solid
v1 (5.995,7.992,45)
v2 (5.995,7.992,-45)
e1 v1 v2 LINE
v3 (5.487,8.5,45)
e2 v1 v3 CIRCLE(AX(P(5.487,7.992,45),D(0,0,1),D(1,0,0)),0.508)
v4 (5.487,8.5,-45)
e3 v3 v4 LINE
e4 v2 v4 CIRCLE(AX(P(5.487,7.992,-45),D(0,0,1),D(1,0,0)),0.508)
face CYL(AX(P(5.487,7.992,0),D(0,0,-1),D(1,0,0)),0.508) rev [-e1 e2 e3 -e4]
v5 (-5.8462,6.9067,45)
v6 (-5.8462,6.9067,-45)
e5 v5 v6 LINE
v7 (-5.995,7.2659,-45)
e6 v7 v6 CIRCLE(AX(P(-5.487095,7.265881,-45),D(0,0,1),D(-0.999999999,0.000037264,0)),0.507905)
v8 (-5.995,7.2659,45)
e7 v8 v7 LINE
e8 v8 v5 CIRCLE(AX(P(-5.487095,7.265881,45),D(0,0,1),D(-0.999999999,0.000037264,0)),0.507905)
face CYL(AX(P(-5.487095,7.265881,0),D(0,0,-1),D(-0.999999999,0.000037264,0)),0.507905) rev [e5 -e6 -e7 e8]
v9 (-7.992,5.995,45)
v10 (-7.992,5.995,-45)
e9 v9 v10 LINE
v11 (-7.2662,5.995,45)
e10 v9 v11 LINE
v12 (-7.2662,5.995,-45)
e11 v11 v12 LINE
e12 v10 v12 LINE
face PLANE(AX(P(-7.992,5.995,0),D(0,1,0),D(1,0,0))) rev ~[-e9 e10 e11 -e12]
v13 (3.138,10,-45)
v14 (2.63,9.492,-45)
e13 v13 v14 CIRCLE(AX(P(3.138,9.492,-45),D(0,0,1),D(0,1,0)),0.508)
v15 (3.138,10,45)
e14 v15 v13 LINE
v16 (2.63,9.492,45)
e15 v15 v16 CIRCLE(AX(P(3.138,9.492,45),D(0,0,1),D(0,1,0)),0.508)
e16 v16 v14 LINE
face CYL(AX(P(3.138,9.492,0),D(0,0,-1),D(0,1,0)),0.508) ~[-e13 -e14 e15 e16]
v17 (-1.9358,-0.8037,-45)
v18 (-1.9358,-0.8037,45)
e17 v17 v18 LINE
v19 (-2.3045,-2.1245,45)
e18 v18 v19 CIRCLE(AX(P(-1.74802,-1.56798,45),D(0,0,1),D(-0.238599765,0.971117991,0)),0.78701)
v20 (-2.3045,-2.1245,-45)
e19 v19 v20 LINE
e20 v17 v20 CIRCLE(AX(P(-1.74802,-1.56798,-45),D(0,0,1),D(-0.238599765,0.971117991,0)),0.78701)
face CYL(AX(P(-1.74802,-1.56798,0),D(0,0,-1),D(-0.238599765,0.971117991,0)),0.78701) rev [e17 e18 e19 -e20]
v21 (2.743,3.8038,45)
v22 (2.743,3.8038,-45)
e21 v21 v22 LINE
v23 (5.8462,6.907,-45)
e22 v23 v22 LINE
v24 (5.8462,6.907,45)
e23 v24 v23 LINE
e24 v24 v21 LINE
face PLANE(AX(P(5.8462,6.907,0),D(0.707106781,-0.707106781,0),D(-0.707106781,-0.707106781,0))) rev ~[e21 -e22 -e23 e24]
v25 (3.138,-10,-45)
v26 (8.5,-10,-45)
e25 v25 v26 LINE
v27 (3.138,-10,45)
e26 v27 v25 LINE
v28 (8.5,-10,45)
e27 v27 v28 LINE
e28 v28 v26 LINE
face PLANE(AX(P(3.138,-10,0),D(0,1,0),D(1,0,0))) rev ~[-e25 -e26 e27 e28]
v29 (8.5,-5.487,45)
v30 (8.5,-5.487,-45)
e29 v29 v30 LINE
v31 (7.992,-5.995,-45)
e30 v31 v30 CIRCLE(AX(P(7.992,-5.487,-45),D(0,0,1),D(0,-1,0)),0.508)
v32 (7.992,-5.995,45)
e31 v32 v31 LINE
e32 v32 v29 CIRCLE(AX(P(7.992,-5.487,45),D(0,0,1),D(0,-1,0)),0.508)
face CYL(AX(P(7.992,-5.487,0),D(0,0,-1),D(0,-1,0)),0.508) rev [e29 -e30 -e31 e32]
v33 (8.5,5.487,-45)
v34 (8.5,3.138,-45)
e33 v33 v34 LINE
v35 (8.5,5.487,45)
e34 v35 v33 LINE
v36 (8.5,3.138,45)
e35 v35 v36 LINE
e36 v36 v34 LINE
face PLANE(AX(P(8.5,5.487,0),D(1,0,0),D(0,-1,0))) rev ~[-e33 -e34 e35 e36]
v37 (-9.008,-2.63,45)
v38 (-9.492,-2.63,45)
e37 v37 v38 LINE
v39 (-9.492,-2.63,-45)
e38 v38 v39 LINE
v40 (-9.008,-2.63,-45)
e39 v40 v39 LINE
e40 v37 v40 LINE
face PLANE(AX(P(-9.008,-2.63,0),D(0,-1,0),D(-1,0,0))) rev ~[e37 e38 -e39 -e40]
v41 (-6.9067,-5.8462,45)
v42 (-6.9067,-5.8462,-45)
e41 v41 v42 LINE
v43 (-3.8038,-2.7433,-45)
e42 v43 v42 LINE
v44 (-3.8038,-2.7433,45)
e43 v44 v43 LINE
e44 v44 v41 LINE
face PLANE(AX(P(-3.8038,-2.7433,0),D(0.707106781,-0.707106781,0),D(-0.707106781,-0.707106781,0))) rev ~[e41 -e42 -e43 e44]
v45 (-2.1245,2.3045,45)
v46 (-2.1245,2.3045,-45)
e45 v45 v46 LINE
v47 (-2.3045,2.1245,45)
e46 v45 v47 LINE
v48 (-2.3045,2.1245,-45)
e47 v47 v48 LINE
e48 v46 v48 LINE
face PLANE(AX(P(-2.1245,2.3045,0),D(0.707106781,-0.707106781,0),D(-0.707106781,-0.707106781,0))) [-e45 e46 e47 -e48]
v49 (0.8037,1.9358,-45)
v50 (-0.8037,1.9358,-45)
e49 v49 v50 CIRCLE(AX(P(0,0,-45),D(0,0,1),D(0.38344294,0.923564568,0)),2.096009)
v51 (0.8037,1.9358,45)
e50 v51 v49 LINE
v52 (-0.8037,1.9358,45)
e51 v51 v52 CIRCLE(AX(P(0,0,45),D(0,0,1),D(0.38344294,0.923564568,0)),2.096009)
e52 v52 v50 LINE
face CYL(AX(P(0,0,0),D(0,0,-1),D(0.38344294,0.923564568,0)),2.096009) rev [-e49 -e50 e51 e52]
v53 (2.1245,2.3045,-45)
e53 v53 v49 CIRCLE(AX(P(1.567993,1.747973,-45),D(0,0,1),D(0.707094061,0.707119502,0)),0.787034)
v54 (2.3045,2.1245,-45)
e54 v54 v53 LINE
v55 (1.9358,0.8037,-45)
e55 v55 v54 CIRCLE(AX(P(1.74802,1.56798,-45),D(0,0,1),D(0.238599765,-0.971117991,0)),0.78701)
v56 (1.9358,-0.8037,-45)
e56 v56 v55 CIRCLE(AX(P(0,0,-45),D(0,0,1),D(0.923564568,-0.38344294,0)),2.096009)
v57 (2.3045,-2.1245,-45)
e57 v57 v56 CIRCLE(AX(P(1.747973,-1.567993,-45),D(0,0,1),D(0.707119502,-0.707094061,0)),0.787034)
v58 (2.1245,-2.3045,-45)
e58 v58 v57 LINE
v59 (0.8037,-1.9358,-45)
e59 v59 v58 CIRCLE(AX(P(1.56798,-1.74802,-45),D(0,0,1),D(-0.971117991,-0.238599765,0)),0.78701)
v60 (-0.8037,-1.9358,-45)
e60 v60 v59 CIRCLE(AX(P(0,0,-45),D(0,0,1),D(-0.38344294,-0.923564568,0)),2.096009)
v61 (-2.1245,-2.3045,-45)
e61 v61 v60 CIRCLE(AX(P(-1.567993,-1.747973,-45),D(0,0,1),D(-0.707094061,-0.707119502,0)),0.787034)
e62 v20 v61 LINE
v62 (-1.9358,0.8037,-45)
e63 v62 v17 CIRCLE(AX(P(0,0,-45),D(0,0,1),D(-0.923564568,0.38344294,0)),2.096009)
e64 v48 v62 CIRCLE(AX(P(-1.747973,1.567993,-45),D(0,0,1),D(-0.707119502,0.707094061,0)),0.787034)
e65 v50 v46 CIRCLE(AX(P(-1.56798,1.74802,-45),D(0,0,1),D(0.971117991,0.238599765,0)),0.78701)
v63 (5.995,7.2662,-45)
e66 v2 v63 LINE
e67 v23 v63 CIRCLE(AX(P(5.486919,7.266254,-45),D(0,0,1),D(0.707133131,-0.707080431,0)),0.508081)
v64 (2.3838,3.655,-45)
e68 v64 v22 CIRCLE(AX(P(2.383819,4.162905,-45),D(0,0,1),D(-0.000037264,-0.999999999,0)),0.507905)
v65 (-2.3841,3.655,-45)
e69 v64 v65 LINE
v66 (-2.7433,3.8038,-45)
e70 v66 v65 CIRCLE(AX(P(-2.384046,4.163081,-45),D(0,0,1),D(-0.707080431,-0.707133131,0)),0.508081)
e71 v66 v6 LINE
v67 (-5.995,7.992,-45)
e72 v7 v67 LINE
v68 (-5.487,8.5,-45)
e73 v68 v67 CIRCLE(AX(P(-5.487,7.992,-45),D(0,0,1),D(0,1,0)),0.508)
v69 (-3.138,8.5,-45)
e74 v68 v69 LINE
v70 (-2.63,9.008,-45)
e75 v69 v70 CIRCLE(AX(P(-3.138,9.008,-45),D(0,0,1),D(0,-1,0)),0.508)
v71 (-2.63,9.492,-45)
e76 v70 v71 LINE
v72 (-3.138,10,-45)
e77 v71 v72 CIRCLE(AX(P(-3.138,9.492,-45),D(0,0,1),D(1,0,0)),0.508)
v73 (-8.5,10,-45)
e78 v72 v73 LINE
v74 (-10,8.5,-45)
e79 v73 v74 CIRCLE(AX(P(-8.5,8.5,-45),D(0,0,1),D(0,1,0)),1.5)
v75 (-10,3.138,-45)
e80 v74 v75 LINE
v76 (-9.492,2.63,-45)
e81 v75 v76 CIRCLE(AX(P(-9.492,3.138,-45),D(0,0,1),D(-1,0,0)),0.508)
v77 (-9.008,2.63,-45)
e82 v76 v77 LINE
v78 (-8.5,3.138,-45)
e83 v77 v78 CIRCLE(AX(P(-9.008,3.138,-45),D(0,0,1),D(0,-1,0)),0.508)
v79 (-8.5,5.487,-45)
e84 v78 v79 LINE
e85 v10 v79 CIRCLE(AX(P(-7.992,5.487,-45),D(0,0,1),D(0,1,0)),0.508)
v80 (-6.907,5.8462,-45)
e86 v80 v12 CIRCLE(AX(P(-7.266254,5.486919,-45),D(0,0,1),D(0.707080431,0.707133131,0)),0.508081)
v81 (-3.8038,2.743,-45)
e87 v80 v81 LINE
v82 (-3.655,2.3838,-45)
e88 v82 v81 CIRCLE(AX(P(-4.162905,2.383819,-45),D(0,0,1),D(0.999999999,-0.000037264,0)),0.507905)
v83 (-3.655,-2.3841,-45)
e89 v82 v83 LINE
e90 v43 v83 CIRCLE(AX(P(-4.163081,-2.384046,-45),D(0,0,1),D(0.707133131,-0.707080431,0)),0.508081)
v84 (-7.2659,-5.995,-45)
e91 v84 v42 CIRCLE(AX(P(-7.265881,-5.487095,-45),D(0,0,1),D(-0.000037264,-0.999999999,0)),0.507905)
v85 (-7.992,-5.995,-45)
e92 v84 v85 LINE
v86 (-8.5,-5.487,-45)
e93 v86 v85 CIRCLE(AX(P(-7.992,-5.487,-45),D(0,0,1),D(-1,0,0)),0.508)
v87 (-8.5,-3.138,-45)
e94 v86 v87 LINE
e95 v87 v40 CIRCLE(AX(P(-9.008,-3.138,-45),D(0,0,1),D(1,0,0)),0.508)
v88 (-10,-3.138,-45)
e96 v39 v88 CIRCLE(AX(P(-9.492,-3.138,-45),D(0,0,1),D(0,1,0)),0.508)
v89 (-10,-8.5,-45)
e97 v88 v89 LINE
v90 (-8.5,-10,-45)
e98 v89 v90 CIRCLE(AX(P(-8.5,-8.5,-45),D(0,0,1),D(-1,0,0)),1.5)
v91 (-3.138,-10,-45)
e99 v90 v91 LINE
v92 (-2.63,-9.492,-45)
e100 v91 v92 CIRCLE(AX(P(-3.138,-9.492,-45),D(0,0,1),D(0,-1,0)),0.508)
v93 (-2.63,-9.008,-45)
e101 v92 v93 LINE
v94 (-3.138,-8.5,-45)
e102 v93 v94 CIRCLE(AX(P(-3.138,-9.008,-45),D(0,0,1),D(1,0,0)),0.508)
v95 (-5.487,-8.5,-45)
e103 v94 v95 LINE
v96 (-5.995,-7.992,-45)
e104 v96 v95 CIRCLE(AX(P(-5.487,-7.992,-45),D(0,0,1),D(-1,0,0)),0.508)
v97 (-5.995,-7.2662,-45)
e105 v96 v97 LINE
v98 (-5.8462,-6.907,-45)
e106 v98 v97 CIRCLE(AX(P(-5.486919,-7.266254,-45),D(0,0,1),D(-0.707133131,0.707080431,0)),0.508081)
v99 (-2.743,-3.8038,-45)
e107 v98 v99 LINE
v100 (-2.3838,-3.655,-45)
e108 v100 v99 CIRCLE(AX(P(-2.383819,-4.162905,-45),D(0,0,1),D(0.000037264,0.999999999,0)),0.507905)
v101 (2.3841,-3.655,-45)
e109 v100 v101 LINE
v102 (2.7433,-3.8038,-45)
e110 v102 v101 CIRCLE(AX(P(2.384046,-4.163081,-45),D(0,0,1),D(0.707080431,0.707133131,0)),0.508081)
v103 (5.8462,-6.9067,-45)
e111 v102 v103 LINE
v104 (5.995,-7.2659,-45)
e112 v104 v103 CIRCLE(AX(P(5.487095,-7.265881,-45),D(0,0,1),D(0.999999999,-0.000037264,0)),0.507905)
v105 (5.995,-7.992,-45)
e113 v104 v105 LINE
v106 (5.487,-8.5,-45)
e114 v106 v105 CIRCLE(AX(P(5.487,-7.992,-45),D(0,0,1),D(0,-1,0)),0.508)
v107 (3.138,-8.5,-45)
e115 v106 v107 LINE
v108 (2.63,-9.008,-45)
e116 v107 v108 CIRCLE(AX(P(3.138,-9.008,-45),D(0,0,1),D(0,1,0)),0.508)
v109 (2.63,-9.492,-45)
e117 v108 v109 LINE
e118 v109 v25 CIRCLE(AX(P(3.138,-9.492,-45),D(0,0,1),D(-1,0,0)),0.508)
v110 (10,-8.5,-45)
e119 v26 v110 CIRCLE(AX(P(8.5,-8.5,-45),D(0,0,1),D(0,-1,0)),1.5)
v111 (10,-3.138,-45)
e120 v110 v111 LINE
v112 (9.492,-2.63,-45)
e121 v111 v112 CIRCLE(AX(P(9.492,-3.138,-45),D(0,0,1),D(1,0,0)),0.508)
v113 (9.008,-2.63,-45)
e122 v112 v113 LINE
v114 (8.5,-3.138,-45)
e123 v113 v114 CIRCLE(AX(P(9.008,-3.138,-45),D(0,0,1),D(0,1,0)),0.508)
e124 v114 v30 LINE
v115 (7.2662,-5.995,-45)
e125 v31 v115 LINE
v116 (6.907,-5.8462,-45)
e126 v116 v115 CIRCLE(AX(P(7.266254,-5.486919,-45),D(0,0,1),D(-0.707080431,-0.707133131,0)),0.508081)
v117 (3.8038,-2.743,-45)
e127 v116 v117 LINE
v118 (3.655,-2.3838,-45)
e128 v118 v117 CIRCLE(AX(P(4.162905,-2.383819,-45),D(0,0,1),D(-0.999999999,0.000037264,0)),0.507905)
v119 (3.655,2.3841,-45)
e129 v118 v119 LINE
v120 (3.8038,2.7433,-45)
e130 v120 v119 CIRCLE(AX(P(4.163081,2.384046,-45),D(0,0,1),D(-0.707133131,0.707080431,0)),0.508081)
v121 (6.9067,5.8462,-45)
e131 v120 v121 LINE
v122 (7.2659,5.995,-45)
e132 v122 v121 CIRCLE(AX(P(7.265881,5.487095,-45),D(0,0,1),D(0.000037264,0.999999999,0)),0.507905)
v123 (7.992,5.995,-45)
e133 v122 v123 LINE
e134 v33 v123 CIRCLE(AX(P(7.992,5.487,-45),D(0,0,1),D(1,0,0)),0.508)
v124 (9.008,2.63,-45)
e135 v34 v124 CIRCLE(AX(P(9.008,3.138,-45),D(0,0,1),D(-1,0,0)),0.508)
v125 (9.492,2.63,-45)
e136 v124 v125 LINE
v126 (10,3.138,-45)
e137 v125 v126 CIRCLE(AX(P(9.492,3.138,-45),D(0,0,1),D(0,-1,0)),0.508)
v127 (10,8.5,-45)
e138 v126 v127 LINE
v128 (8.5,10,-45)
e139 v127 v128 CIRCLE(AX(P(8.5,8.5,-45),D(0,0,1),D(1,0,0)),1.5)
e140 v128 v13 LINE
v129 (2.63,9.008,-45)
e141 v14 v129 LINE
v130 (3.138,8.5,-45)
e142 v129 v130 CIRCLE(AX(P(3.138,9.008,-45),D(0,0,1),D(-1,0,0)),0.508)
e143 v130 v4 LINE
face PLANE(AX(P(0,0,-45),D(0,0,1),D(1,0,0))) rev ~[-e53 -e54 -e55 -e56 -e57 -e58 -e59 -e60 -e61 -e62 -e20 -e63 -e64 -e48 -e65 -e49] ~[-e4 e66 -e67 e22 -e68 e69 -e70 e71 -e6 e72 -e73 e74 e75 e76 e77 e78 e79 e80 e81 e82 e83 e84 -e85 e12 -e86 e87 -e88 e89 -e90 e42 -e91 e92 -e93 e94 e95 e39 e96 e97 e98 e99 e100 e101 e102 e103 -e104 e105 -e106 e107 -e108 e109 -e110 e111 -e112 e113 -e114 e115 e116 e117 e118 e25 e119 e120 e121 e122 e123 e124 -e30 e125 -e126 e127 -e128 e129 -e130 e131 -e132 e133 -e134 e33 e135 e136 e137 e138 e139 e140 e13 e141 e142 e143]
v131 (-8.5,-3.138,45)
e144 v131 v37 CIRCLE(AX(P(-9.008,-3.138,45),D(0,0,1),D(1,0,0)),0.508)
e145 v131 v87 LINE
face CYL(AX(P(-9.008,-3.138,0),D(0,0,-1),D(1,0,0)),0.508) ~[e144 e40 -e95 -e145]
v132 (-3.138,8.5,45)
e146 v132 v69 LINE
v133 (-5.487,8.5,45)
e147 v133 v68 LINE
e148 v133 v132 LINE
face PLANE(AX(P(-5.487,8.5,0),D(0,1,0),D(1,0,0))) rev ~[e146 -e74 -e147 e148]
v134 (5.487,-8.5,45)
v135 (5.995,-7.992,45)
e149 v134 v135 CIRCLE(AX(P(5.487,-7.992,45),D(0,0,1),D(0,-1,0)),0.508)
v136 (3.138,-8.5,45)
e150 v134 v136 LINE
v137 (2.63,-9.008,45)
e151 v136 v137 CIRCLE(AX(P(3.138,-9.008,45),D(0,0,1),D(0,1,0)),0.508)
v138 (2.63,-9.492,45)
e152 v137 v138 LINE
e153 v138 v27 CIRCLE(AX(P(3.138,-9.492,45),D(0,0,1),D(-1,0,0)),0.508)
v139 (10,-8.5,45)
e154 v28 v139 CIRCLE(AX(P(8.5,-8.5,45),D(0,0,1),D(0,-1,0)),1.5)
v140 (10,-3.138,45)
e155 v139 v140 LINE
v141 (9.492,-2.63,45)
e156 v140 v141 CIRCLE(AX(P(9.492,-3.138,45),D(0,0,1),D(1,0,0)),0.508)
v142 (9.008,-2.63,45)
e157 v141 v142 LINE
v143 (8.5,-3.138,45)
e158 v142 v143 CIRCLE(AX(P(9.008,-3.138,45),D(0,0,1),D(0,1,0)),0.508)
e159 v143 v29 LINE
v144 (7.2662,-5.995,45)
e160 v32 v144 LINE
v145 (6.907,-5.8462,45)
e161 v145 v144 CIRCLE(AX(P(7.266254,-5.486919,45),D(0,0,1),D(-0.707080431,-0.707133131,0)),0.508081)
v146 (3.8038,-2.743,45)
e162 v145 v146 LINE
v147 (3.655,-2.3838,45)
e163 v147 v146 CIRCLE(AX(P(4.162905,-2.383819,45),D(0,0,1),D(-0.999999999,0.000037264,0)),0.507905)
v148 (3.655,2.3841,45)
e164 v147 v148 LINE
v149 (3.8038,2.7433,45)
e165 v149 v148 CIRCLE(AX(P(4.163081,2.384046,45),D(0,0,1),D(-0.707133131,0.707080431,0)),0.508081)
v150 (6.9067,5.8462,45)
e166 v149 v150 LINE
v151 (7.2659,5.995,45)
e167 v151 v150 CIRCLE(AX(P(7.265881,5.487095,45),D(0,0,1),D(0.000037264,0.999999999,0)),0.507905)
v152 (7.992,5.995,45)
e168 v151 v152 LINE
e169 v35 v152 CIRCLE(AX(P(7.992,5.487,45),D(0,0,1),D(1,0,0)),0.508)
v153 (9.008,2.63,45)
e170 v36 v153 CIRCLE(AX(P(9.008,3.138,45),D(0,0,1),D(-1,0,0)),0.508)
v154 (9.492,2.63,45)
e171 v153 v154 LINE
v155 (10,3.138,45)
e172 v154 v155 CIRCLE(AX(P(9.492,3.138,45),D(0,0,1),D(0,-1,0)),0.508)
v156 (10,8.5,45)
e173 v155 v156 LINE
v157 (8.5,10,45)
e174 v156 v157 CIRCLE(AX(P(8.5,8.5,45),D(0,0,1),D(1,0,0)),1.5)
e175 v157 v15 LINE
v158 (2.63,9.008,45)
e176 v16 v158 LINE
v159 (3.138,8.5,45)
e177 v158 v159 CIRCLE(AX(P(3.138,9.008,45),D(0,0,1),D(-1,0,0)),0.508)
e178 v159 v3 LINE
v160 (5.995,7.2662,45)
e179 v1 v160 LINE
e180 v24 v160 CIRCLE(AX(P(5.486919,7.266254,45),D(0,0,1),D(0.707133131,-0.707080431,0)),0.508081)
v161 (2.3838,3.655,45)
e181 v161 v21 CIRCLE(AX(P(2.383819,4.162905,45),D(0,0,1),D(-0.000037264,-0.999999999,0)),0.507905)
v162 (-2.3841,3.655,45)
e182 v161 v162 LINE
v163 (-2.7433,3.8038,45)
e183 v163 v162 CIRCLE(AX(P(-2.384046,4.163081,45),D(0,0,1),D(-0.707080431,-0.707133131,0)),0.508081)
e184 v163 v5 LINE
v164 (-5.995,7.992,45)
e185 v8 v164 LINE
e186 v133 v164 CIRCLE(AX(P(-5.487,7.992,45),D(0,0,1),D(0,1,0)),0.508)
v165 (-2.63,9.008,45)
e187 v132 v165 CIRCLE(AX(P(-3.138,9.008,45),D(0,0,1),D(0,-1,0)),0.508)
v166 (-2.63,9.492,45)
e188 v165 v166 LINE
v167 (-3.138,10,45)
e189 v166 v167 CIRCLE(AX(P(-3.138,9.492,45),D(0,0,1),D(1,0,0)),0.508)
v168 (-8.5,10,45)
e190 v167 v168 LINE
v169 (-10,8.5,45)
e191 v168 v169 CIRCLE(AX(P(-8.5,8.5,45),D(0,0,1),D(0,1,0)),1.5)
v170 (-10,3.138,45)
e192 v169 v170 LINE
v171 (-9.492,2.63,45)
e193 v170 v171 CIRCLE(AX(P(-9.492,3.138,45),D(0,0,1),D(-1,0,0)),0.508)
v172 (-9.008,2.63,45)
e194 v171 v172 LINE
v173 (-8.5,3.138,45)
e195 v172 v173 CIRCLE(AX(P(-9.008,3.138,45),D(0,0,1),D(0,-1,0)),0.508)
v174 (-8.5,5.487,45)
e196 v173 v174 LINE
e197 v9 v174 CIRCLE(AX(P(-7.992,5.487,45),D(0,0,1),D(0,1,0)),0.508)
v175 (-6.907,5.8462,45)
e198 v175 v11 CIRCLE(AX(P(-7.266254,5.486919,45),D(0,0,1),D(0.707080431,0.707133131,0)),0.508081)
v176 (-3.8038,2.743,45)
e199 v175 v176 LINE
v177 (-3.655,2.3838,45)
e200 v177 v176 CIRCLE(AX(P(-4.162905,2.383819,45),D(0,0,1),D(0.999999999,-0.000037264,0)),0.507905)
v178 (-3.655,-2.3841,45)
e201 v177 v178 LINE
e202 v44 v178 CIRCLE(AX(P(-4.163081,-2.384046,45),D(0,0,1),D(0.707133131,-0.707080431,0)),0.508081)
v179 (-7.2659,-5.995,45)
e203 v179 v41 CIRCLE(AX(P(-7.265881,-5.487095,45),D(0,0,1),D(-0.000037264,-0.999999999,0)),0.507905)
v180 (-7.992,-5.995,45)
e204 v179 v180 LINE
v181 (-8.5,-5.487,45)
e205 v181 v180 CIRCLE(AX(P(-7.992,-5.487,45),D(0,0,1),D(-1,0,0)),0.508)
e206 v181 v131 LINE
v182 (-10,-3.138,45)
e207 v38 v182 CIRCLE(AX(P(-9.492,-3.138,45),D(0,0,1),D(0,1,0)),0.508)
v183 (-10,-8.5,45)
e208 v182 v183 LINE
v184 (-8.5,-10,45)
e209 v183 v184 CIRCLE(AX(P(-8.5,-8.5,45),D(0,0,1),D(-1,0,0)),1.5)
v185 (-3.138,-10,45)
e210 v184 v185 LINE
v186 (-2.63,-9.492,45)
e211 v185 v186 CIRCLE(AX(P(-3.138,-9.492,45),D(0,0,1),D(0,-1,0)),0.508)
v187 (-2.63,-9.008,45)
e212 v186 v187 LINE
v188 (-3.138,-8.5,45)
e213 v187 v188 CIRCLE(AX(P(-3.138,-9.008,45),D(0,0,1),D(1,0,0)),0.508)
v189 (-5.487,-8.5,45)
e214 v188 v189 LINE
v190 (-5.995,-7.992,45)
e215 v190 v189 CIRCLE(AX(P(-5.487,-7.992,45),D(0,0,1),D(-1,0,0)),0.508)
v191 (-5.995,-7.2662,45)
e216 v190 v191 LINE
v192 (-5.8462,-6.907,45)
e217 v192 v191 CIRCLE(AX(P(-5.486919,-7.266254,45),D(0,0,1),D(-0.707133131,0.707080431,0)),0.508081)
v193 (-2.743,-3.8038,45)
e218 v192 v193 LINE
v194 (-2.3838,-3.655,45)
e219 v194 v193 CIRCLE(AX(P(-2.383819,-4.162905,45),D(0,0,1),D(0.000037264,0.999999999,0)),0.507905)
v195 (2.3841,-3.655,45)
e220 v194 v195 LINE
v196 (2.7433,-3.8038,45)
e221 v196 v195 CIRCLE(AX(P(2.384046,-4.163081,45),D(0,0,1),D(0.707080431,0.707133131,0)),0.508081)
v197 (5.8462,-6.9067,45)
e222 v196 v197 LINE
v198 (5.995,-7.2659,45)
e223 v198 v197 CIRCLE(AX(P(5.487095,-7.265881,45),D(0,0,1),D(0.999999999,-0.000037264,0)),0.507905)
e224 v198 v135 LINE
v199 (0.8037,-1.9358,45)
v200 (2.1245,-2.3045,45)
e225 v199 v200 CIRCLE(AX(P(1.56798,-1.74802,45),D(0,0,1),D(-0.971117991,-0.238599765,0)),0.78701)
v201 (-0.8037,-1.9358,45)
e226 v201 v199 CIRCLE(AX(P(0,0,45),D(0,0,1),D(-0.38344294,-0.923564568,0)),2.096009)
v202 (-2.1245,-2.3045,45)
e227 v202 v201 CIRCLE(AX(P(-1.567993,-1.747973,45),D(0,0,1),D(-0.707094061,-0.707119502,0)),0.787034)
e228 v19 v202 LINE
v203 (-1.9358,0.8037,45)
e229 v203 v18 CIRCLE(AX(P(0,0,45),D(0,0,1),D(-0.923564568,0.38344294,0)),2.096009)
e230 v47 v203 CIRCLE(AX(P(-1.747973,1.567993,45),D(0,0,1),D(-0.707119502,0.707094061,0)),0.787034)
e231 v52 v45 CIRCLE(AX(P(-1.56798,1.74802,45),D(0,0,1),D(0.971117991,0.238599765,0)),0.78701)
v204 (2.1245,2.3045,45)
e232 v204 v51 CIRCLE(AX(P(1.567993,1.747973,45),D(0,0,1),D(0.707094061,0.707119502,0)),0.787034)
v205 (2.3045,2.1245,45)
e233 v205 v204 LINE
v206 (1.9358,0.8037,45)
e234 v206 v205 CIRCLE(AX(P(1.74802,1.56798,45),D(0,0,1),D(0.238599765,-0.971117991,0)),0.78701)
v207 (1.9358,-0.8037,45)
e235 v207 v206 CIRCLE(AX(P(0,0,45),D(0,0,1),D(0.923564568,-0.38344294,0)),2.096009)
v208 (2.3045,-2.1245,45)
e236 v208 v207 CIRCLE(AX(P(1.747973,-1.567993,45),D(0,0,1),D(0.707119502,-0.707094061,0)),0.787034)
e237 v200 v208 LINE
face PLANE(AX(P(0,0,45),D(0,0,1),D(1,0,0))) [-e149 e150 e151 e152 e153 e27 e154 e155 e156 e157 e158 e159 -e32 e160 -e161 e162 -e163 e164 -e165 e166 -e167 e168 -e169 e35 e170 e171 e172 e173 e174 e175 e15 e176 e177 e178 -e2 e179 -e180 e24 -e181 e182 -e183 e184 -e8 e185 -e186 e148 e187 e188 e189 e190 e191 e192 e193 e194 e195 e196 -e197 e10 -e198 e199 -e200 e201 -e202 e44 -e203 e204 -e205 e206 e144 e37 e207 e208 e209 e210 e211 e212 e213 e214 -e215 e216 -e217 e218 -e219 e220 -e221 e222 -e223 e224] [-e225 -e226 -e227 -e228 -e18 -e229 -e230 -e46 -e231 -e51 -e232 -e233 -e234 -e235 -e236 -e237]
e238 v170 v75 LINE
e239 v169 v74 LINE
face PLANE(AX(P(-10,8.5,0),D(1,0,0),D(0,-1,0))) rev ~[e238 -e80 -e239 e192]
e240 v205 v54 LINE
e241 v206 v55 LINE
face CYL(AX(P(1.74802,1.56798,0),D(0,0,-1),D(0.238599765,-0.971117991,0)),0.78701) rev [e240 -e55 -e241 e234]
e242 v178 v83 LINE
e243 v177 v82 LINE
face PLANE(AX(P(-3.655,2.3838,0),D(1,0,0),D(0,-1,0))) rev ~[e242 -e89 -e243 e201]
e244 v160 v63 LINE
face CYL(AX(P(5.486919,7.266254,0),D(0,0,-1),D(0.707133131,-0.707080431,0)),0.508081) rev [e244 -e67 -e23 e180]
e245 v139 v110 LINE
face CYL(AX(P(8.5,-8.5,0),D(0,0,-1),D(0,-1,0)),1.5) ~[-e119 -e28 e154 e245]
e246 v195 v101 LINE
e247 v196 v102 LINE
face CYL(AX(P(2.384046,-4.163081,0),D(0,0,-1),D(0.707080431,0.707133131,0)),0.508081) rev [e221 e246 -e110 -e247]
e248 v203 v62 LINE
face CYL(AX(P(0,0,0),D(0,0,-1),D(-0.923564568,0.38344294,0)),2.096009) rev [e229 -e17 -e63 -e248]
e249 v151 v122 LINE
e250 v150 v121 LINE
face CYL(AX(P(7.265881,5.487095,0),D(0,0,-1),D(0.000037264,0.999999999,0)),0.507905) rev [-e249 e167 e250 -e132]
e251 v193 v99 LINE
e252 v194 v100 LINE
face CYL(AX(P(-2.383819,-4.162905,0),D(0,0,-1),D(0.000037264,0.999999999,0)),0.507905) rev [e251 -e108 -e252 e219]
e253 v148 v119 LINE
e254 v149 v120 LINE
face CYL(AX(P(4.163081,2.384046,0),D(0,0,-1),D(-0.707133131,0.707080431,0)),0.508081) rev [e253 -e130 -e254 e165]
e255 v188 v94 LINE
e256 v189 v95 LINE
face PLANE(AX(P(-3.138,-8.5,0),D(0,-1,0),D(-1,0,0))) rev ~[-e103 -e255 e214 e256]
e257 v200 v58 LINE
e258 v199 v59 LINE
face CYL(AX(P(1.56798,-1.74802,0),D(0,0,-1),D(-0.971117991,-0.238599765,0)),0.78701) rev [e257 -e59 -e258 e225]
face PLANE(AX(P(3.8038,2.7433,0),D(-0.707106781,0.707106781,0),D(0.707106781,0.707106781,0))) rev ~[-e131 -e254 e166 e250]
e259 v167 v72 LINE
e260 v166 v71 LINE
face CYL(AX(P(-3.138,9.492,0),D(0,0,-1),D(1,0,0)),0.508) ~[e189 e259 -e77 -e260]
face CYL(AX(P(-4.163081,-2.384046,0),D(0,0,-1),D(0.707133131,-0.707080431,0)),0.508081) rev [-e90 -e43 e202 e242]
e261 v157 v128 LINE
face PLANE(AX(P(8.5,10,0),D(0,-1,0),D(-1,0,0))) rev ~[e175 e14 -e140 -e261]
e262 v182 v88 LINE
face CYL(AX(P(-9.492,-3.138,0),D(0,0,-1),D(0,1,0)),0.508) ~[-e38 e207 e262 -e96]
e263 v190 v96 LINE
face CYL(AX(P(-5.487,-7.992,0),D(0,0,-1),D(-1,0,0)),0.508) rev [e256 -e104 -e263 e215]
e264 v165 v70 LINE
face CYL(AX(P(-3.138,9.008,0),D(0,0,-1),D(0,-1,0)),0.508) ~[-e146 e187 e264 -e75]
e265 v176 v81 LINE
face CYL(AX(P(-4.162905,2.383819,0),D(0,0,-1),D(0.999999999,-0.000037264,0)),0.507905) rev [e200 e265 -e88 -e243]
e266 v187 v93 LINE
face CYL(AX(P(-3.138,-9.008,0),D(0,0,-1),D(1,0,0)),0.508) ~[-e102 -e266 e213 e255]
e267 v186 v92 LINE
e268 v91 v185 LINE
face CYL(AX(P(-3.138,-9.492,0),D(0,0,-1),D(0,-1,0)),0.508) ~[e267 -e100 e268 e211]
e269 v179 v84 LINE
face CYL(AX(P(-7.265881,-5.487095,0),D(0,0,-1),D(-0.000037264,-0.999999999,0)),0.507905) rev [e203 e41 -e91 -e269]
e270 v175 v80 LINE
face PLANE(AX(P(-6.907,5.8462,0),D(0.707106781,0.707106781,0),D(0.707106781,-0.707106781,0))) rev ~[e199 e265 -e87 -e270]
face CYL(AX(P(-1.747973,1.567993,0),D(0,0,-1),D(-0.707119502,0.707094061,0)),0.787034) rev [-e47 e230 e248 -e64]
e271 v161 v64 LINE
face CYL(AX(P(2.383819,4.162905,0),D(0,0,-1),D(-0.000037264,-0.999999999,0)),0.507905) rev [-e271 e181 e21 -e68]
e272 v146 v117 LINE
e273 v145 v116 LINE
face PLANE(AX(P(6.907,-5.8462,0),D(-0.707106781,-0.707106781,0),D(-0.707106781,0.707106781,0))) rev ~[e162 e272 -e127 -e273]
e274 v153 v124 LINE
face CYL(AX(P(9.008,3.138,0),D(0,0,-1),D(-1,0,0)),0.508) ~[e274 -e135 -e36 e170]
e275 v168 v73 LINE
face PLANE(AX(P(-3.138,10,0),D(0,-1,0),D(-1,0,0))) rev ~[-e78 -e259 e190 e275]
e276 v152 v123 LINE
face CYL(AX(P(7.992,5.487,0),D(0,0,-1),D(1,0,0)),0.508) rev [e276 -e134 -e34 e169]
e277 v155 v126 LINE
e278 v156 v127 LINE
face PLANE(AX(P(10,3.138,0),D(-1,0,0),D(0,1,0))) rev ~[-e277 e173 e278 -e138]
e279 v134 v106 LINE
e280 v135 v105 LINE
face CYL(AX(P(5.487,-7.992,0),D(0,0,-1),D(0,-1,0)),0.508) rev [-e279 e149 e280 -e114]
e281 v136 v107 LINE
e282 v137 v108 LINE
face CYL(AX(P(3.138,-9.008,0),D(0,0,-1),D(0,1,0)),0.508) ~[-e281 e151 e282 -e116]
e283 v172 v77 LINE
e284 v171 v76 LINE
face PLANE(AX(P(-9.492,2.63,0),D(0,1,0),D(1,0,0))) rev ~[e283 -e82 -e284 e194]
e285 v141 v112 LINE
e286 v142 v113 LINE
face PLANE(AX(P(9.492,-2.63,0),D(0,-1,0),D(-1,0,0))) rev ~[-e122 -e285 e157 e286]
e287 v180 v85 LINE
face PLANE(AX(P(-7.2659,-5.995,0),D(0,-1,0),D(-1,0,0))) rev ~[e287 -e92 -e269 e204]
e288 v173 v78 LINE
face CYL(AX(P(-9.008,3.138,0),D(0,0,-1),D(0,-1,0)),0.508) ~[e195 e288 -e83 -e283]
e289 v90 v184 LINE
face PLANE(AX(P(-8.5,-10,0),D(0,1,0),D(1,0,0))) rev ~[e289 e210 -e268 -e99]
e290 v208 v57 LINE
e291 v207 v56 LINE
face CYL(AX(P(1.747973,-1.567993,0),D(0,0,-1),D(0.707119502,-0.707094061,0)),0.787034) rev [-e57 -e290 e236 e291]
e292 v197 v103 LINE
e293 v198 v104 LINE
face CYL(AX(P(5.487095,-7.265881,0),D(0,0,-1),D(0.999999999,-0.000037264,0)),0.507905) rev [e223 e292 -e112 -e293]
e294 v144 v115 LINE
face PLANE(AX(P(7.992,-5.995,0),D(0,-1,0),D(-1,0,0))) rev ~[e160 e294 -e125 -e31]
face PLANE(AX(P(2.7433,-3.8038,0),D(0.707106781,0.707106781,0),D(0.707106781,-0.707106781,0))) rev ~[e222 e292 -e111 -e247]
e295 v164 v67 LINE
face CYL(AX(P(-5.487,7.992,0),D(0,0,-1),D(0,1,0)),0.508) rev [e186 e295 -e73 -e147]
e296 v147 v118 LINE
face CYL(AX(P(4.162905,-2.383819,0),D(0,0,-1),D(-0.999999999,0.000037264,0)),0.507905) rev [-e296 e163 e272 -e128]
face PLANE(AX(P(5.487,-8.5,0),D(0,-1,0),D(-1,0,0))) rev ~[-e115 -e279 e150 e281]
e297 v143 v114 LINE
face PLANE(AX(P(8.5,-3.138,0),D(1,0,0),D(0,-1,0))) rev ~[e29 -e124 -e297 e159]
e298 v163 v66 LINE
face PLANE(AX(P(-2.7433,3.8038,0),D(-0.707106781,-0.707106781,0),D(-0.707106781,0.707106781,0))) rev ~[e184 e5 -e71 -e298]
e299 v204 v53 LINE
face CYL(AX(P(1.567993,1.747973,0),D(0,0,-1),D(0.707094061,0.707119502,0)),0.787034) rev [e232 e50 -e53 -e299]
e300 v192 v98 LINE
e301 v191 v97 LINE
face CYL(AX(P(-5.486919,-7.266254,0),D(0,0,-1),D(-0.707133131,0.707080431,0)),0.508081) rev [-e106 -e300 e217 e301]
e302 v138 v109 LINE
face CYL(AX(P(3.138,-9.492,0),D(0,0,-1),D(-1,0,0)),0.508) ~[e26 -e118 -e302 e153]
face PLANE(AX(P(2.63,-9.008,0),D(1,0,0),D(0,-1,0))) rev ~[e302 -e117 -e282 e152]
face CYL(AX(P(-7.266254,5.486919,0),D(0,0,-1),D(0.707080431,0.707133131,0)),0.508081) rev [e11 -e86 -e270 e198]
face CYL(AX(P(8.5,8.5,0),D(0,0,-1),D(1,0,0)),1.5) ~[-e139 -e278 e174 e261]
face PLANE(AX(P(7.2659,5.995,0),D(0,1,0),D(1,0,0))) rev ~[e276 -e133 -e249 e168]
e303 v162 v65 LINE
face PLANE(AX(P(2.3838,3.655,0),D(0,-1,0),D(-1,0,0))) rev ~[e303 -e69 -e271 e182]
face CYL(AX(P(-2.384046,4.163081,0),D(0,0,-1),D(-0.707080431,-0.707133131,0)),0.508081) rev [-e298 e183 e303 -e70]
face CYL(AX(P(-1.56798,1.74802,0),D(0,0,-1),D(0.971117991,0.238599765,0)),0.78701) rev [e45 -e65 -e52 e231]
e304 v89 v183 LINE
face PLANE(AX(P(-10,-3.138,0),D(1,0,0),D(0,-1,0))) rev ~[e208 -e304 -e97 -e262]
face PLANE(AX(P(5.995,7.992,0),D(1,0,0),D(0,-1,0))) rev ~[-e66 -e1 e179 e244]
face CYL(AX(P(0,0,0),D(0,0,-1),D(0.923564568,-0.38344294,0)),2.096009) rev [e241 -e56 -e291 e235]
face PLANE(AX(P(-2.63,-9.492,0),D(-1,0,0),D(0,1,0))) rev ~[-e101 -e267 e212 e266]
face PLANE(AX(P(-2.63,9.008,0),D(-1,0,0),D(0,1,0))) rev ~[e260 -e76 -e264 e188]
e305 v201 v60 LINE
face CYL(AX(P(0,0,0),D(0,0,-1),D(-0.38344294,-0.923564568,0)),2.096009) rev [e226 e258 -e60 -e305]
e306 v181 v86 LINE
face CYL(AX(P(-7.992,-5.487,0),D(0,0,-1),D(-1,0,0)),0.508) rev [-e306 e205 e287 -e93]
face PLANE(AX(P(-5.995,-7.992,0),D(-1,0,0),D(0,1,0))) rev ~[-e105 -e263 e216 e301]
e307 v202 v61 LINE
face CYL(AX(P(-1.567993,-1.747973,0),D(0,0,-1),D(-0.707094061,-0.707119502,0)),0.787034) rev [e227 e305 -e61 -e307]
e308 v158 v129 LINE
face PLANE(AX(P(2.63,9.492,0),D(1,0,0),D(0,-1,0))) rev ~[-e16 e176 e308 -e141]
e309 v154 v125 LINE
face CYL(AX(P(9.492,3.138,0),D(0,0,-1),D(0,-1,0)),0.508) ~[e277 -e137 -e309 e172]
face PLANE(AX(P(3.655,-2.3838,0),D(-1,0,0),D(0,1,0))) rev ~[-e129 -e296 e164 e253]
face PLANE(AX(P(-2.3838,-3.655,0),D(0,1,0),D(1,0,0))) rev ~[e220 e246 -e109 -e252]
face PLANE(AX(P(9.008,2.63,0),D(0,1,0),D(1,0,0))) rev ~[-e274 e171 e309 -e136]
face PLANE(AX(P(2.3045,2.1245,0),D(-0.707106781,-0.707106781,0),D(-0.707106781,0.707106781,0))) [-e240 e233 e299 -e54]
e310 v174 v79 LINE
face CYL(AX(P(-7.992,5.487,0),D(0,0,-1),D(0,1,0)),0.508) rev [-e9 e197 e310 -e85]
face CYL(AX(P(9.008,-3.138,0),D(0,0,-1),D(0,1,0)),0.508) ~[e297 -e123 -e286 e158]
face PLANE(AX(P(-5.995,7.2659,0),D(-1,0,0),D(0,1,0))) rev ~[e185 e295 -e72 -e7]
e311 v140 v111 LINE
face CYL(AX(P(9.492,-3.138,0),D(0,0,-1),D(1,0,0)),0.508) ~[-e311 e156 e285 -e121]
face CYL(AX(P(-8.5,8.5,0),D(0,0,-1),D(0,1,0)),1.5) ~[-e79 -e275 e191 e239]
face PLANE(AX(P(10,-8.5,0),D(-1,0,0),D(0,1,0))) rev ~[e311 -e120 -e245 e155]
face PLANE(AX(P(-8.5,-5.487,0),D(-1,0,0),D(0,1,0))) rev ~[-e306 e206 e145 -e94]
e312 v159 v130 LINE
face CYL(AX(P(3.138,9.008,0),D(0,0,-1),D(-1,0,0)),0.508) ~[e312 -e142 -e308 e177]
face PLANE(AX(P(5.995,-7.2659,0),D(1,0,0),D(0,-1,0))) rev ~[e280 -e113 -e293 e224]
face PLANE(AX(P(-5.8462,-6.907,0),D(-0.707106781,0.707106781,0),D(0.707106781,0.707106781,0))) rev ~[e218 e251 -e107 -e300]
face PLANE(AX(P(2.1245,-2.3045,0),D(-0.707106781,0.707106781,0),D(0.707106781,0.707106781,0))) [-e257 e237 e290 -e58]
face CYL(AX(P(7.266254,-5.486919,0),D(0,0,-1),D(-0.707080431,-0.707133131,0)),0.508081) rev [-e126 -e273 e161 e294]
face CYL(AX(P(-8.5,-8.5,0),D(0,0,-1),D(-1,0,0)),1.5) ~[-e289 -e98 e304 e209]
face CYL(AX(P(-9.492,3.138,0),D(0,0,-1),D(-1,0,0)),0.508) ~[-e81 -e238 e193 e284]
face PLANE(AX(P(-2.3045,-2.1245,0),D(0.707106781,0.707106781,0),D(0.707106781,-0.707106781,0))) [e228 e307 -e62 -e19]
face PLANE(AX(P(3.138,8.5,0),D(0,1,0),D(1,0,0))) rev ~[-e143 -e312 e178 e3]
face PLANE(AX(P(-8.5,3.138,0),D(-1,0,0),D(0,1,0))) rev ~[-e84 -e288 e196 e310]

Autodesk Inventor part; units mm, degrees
ref_plane "YZ Plane" through (0, 0, 0) normal (1, 0, 0) x (0, 1, 0)
ref_plane "XZ Plane" through (0, 0, 0) normal (0, 1, 0) x (-1, 0, 0)
ref_plane "XY Plane" through (0, 0, 0) normal (0, 0, 1) x (1, 0, 0)
sketch "Sketch1" plane through (0, 0, 0) normal (0, 0, 1) x (1, 0, 0)
  arc A0 (-10, -8.5) -> (-8.5, -10) centre (-8.5, -8.5) ccw
  line L0 (-8.5, -10) -> (-3.138, -10)
  arc A1 (-3.138, -10) -> (-2.63, -9.492) centre (-3.138, -9.492) ccw
  line L1 (-2.63, -9.492) -> (-2.63, -9.008)
  arc A2 (-2.63, -9.008) -> (-3.138, -8.5) centre (-3.138, -9.008) ccw
  line L2 (-3.138, -8.5) -> (-5.487, -8.5)
  arc A3 (-5.995, -7.992) -> (-5.487, -8.5) centre (-5.487, -7.992) ccw
  line L3 (-5.995, -7.992) -> (-5.995, -7.2662)
  arc A4 (-5.8462, -6.907) -> (-5.995, -7.2662) centre (-5.487, -7.2662) ccw
  line L4 (-5.8462, -6.907) -> (-2.743, -3.8038)
  arc A5 (-2.3838, -3.655) -> (-2.743, -3.8038) centre (-2.3838, -4.163) ccw
  line L5 (-2.3838, -3.655) -> (2.3841, -3.655)
  arc A6 (2.7433, -3.8038) -> (2.3841, -3.655) centre (2.3841, -4.163) ccw
  line L6 (2.7433, -3.8038) -> (5.8462, -6.9067)
  arc A7 (5.995, -7.2659) -> (5.8462, -6.9067) centre (5.487, -7.2659) ccw
  line L7 (5.995, -7.2659) -> (5.995, -7.992)
  arc A8 (5.487, -8.5) -> (5.995, -7.992) centre (5.487, -7.992) ccw
  line L8 (5.487, -8.5) -> (3.138, -8.5)
  arc A9 (3.138, -8.5) -> (2.63, -9.008) centre (3.138, -9.008) ccw
  line L9 (2.63, -9.008) -> (2.63, -9.492)
  arc A10 (2.63, -9.492) -> (3.138, -10) centre (3.138, -9.492) ccw
  line L10 (3.138, -10) -> (8.5, -10)
  arc A11 (8.5, -10) -> (10, -8.5) centre (8.5, -8.5) ccw
  line L11 (10, -8.5) -> (10, -3.138)
  arc A12 (10, -3.138) -> (9.492, -2.63) centre (9.492, -3.138) ccw
  line L12 (9.492, -2.63) -> (9.008, -2.63)
  arc A13 (9.008, -2.63) -> (8.5, -3.138) centre (9.008, -3.138) ccw
  line L13 (8.5, -3.138) -> (8.5, -5.487)
  arc A14 (7.992, -5.995) -> (8.5, -5.487) centre (7.992, -5.487) ccw
  line L14 (7.992, -5.995) -> (7.2662, -5.995)
  arc A15 (6.907, -5.8462) -> (7.2662, -5.995) centre (7.2662, -5.487) ccw
  line L15 (6.907, -5.8462) -> (3.8038, -2.743)
  arc A16 (3.655, -2.3838) -> (3.8038, -2.743) centre (4.163, -2.3838) ccw
  line L16 (3.655, -2.3838) -> (3.655, 2.3841)
  arc A17 (3.8038, 2.7433) -> (3.655, 2.3841) centre (4.163, 2.3841) ccw
  line L17 (3.8038, 2.7433) -> (6.9067, 5.8462)
  arc A18 (7.2659, 5.995) -> (6.9067, 5.8462) centre (7.2659, 5.487) ccw
  line L18 (7.2659, 5.995) -> (7.992, 5.995)
  arc A19 (8.5, 5.487) -> (7.992, 5.995) centre (7.992, 5.487) ccw
  line L19 (8.5, 5.487) -> (8.5, 3.138)
  arc A20 (8.5, 3.138) -> (9.008, 2.63) centre (9.008, 3.138) ccw
  line L20 (9.008, 2.63) -> (9.492, 2.63)
  arc A21 (9.492, 2.63) -> (10, 3.138) centre (9.492, 3.138) ccw
  line L21 (10, 3.138) -> (10, 8.5)
  arc A22 (10, 8.5) -> (8.5, 10) centre (8.5, 8.5) ccw
  line L22 (8.5, 10) -> (3.138, 10)
  arc A23 (3.138, 10) -> (2.63, 9.492) centre (3.138, 9.492) ccw
  line L23 (2.63, 9.492) -> (2.63, 9.008)
  arc A24 (2.63, 9.008) -> (3.138, 8.5) centre (3.138, 9.008) ccw
  line L24 (3.138, 8.5) -> (5.487, 8.5)
  arc A25 (5.995, 7.992) -> (5.487, 8.5) centre (5.487, 7.992) ccw
  line L25 (5.995, 7.992) -> (5.995, 7.2662)
  arc A26 (5.8462, 6.907) -> (5.995, 7.2662) centre (5.487, 7.2662) ccw
  line L26 (5.8462, 6.907) -> (2.743, 3.8038)
  arc A27 (2.3838, 3.655) -> (2.743, 3.8038) centre (2.3838, 4.163) ccw
  line L27 (2.3838, 3.655) -> (-2.3841, 3.655)
  arc A28 (-2.7433, 3.8038) -> (-2.3841, 3.655) centre (-2.3841, 4.163) ccw
  line L28 (-2.7433, 3.8038) -> (-5.8462, 6.9067)
  arc A29 (-5.995, 7.2659) -> (-5.8462, 6.9067) centre (-5.487, 7.2659) ccw
  line L29 (-5.995, 7.2659) -> (-5.995, 7.992)
  arc A30 (-5.487, 8.5) -> (-5.995, 7.992) centre (-5.487, 7.992) ccw
  line L30 (-5.487, 8.5) -> (-3.138, 8.5)
  arc A31 (-3.138, 8.5) -> (-2.63, 9.008) centre (-3.138, 9.008) ccw
  line L31 (-2.63, 9.008) -> (-2.63, 9.492)
  arc A32 (-2.63, 9.492) -> (-3.138, 10) centre (-3.138, 9.492) ccw
  line L32 (-3.138, 10) -> (-8.5, 10)
  arc A33 (-8.5, 10) -> (-10, 8.5) centre (-8.5, 8.5) ccw
  line L33 (-10, 8.5) -> (-10, 3.138)
  arc A34 (-10, 3.138) -> (-9.492, 2.63) centre (-9.492, 3.138) ccw
  line L34 (-9.492, 2.63) -> (-9.008, 2.63)
  arc A35 (-9.008, 2.63) -> (-8.5, 3.138) centre (-9.008, 3.138) ccw
  line L35 (-8.5, 3.138) -> (-8.5, 5.487)
  arc A36 (-7.992, 5.995) -> (-8.5, 5.487) centre (-7.992, 5.487) ccw
  line L36 (-7.992, 5.995) -> (-7.2662, 5.995)
  arc A37 (-6.907, 5.8462) -> (-7.2662, 5.995) centre (-7.2662, 5.487) ccw
  line L37 (-6.907, 5.8462) -> (-3.8038, 2.743)
  arc A38 (-3.655, 2.3838) -> (-3.8038, 2.743) centre (-4.163, 2.3838) ccw
  line L38 (-3.655, 2.3838) -> (-3.655, -2.3841)
  arc A39 (-3.8038, -2.7433) -> (-3.655, -2.3841) centre (-4.163, -2.3841) ccw
  line L39 (-3.8038, -2.7433) -> (-6.9067, -5.8462)
  arc A40 (-7.2659, -5.995) -> (-6.9067, -5.8462) centre (-7.2659, -5.487) ccw
  line L40 (-7.2659, -5.995) -> (-7.992, -5.995)
  arc A41 (-8.5, -5.487) -> (-7.992, -5.995) centre (-7.992, -5.487) ccw
  line L41 (-8.5, -5.487) -> (-8.5, -3.138)
  arc A42 (-8.5, -3.138) -> (-9.008, -2.63) centre (-9.008, -3.138) ccw
  line L42 (-9.008, -2.63) -> (-9.492, -2.63)
  arc A43 (-9.492, -2.63) -> (-10, -3.138) centre (-9.492, -3.138) ccw
  line L43 (-10, -3.138) -> (-10, -8.5)
  arc A44 (-1.9358, -0.8037) -> (-2.3045, -2.1245) centre (-1.748, -1.568) ccw
  line L44 (-2.3045, -2.1245) -> (-2.1245, -2.3045)
  arc A45 (-2.1245, -2.3045) -> (-0.8037, -1.9358) centre (-1.568, -1.748) ccw
  arc A46 (-0.8037, -1.9358) -> (0.8037, -1.9358) centre (0, 0) ccw
  arc A47 (0.8037, -1.9358) -> (2.1245, -2.3045) centre (1.568, -1.748) ccw
  line L45 (2.1245, -2.3045) -> (2.3045, -2.1245)
  arc A48 (2.3045, -2.1245) -> (1.9358, -0.8037) centre (1.748, -1.568) ccw
  arc A49 (1.9358, -0.8037) -> (1.9358, 0.8037) centre (0, 0) ccw
  arc A50 (1.9358, 0.8037) -> (2.3045, 2.1245) centre (1.748, 1.568) ccw
  line L46 (2.3045, 2.1245) -> (2.1245, 2.3045)
  arc A51 (2.1245, 2.3045) -> (0.8037, 1.9358) centre (1.568, 1.748) ccw
  arc A52 (0.8037, 1.9358) -> (-0.8037, 1.9358) centre (0, 0) ccw
  arc A53 (-0.8037, 1.9358) -> (-2.1245, 2.3045) centre (-1.568, 1.748) ccw
  line L47 (-2.1245, 2.3045) -> (-2.3045, 2.1245)
  arc A54 (-2.3045, 2.1245) -> (-1.9358, 0.8037) centre (-1.748, 1.568) ccw
  arc A55 (-1.9358, 0.8037) -> (-1.9358, -0.8037) centre (0, 0) ccw
  point P0 (0, 0)
extrude "Extrusion1" add sketch "Sketch1" along normal mid plane 90
properties part number "20-2020-285"
